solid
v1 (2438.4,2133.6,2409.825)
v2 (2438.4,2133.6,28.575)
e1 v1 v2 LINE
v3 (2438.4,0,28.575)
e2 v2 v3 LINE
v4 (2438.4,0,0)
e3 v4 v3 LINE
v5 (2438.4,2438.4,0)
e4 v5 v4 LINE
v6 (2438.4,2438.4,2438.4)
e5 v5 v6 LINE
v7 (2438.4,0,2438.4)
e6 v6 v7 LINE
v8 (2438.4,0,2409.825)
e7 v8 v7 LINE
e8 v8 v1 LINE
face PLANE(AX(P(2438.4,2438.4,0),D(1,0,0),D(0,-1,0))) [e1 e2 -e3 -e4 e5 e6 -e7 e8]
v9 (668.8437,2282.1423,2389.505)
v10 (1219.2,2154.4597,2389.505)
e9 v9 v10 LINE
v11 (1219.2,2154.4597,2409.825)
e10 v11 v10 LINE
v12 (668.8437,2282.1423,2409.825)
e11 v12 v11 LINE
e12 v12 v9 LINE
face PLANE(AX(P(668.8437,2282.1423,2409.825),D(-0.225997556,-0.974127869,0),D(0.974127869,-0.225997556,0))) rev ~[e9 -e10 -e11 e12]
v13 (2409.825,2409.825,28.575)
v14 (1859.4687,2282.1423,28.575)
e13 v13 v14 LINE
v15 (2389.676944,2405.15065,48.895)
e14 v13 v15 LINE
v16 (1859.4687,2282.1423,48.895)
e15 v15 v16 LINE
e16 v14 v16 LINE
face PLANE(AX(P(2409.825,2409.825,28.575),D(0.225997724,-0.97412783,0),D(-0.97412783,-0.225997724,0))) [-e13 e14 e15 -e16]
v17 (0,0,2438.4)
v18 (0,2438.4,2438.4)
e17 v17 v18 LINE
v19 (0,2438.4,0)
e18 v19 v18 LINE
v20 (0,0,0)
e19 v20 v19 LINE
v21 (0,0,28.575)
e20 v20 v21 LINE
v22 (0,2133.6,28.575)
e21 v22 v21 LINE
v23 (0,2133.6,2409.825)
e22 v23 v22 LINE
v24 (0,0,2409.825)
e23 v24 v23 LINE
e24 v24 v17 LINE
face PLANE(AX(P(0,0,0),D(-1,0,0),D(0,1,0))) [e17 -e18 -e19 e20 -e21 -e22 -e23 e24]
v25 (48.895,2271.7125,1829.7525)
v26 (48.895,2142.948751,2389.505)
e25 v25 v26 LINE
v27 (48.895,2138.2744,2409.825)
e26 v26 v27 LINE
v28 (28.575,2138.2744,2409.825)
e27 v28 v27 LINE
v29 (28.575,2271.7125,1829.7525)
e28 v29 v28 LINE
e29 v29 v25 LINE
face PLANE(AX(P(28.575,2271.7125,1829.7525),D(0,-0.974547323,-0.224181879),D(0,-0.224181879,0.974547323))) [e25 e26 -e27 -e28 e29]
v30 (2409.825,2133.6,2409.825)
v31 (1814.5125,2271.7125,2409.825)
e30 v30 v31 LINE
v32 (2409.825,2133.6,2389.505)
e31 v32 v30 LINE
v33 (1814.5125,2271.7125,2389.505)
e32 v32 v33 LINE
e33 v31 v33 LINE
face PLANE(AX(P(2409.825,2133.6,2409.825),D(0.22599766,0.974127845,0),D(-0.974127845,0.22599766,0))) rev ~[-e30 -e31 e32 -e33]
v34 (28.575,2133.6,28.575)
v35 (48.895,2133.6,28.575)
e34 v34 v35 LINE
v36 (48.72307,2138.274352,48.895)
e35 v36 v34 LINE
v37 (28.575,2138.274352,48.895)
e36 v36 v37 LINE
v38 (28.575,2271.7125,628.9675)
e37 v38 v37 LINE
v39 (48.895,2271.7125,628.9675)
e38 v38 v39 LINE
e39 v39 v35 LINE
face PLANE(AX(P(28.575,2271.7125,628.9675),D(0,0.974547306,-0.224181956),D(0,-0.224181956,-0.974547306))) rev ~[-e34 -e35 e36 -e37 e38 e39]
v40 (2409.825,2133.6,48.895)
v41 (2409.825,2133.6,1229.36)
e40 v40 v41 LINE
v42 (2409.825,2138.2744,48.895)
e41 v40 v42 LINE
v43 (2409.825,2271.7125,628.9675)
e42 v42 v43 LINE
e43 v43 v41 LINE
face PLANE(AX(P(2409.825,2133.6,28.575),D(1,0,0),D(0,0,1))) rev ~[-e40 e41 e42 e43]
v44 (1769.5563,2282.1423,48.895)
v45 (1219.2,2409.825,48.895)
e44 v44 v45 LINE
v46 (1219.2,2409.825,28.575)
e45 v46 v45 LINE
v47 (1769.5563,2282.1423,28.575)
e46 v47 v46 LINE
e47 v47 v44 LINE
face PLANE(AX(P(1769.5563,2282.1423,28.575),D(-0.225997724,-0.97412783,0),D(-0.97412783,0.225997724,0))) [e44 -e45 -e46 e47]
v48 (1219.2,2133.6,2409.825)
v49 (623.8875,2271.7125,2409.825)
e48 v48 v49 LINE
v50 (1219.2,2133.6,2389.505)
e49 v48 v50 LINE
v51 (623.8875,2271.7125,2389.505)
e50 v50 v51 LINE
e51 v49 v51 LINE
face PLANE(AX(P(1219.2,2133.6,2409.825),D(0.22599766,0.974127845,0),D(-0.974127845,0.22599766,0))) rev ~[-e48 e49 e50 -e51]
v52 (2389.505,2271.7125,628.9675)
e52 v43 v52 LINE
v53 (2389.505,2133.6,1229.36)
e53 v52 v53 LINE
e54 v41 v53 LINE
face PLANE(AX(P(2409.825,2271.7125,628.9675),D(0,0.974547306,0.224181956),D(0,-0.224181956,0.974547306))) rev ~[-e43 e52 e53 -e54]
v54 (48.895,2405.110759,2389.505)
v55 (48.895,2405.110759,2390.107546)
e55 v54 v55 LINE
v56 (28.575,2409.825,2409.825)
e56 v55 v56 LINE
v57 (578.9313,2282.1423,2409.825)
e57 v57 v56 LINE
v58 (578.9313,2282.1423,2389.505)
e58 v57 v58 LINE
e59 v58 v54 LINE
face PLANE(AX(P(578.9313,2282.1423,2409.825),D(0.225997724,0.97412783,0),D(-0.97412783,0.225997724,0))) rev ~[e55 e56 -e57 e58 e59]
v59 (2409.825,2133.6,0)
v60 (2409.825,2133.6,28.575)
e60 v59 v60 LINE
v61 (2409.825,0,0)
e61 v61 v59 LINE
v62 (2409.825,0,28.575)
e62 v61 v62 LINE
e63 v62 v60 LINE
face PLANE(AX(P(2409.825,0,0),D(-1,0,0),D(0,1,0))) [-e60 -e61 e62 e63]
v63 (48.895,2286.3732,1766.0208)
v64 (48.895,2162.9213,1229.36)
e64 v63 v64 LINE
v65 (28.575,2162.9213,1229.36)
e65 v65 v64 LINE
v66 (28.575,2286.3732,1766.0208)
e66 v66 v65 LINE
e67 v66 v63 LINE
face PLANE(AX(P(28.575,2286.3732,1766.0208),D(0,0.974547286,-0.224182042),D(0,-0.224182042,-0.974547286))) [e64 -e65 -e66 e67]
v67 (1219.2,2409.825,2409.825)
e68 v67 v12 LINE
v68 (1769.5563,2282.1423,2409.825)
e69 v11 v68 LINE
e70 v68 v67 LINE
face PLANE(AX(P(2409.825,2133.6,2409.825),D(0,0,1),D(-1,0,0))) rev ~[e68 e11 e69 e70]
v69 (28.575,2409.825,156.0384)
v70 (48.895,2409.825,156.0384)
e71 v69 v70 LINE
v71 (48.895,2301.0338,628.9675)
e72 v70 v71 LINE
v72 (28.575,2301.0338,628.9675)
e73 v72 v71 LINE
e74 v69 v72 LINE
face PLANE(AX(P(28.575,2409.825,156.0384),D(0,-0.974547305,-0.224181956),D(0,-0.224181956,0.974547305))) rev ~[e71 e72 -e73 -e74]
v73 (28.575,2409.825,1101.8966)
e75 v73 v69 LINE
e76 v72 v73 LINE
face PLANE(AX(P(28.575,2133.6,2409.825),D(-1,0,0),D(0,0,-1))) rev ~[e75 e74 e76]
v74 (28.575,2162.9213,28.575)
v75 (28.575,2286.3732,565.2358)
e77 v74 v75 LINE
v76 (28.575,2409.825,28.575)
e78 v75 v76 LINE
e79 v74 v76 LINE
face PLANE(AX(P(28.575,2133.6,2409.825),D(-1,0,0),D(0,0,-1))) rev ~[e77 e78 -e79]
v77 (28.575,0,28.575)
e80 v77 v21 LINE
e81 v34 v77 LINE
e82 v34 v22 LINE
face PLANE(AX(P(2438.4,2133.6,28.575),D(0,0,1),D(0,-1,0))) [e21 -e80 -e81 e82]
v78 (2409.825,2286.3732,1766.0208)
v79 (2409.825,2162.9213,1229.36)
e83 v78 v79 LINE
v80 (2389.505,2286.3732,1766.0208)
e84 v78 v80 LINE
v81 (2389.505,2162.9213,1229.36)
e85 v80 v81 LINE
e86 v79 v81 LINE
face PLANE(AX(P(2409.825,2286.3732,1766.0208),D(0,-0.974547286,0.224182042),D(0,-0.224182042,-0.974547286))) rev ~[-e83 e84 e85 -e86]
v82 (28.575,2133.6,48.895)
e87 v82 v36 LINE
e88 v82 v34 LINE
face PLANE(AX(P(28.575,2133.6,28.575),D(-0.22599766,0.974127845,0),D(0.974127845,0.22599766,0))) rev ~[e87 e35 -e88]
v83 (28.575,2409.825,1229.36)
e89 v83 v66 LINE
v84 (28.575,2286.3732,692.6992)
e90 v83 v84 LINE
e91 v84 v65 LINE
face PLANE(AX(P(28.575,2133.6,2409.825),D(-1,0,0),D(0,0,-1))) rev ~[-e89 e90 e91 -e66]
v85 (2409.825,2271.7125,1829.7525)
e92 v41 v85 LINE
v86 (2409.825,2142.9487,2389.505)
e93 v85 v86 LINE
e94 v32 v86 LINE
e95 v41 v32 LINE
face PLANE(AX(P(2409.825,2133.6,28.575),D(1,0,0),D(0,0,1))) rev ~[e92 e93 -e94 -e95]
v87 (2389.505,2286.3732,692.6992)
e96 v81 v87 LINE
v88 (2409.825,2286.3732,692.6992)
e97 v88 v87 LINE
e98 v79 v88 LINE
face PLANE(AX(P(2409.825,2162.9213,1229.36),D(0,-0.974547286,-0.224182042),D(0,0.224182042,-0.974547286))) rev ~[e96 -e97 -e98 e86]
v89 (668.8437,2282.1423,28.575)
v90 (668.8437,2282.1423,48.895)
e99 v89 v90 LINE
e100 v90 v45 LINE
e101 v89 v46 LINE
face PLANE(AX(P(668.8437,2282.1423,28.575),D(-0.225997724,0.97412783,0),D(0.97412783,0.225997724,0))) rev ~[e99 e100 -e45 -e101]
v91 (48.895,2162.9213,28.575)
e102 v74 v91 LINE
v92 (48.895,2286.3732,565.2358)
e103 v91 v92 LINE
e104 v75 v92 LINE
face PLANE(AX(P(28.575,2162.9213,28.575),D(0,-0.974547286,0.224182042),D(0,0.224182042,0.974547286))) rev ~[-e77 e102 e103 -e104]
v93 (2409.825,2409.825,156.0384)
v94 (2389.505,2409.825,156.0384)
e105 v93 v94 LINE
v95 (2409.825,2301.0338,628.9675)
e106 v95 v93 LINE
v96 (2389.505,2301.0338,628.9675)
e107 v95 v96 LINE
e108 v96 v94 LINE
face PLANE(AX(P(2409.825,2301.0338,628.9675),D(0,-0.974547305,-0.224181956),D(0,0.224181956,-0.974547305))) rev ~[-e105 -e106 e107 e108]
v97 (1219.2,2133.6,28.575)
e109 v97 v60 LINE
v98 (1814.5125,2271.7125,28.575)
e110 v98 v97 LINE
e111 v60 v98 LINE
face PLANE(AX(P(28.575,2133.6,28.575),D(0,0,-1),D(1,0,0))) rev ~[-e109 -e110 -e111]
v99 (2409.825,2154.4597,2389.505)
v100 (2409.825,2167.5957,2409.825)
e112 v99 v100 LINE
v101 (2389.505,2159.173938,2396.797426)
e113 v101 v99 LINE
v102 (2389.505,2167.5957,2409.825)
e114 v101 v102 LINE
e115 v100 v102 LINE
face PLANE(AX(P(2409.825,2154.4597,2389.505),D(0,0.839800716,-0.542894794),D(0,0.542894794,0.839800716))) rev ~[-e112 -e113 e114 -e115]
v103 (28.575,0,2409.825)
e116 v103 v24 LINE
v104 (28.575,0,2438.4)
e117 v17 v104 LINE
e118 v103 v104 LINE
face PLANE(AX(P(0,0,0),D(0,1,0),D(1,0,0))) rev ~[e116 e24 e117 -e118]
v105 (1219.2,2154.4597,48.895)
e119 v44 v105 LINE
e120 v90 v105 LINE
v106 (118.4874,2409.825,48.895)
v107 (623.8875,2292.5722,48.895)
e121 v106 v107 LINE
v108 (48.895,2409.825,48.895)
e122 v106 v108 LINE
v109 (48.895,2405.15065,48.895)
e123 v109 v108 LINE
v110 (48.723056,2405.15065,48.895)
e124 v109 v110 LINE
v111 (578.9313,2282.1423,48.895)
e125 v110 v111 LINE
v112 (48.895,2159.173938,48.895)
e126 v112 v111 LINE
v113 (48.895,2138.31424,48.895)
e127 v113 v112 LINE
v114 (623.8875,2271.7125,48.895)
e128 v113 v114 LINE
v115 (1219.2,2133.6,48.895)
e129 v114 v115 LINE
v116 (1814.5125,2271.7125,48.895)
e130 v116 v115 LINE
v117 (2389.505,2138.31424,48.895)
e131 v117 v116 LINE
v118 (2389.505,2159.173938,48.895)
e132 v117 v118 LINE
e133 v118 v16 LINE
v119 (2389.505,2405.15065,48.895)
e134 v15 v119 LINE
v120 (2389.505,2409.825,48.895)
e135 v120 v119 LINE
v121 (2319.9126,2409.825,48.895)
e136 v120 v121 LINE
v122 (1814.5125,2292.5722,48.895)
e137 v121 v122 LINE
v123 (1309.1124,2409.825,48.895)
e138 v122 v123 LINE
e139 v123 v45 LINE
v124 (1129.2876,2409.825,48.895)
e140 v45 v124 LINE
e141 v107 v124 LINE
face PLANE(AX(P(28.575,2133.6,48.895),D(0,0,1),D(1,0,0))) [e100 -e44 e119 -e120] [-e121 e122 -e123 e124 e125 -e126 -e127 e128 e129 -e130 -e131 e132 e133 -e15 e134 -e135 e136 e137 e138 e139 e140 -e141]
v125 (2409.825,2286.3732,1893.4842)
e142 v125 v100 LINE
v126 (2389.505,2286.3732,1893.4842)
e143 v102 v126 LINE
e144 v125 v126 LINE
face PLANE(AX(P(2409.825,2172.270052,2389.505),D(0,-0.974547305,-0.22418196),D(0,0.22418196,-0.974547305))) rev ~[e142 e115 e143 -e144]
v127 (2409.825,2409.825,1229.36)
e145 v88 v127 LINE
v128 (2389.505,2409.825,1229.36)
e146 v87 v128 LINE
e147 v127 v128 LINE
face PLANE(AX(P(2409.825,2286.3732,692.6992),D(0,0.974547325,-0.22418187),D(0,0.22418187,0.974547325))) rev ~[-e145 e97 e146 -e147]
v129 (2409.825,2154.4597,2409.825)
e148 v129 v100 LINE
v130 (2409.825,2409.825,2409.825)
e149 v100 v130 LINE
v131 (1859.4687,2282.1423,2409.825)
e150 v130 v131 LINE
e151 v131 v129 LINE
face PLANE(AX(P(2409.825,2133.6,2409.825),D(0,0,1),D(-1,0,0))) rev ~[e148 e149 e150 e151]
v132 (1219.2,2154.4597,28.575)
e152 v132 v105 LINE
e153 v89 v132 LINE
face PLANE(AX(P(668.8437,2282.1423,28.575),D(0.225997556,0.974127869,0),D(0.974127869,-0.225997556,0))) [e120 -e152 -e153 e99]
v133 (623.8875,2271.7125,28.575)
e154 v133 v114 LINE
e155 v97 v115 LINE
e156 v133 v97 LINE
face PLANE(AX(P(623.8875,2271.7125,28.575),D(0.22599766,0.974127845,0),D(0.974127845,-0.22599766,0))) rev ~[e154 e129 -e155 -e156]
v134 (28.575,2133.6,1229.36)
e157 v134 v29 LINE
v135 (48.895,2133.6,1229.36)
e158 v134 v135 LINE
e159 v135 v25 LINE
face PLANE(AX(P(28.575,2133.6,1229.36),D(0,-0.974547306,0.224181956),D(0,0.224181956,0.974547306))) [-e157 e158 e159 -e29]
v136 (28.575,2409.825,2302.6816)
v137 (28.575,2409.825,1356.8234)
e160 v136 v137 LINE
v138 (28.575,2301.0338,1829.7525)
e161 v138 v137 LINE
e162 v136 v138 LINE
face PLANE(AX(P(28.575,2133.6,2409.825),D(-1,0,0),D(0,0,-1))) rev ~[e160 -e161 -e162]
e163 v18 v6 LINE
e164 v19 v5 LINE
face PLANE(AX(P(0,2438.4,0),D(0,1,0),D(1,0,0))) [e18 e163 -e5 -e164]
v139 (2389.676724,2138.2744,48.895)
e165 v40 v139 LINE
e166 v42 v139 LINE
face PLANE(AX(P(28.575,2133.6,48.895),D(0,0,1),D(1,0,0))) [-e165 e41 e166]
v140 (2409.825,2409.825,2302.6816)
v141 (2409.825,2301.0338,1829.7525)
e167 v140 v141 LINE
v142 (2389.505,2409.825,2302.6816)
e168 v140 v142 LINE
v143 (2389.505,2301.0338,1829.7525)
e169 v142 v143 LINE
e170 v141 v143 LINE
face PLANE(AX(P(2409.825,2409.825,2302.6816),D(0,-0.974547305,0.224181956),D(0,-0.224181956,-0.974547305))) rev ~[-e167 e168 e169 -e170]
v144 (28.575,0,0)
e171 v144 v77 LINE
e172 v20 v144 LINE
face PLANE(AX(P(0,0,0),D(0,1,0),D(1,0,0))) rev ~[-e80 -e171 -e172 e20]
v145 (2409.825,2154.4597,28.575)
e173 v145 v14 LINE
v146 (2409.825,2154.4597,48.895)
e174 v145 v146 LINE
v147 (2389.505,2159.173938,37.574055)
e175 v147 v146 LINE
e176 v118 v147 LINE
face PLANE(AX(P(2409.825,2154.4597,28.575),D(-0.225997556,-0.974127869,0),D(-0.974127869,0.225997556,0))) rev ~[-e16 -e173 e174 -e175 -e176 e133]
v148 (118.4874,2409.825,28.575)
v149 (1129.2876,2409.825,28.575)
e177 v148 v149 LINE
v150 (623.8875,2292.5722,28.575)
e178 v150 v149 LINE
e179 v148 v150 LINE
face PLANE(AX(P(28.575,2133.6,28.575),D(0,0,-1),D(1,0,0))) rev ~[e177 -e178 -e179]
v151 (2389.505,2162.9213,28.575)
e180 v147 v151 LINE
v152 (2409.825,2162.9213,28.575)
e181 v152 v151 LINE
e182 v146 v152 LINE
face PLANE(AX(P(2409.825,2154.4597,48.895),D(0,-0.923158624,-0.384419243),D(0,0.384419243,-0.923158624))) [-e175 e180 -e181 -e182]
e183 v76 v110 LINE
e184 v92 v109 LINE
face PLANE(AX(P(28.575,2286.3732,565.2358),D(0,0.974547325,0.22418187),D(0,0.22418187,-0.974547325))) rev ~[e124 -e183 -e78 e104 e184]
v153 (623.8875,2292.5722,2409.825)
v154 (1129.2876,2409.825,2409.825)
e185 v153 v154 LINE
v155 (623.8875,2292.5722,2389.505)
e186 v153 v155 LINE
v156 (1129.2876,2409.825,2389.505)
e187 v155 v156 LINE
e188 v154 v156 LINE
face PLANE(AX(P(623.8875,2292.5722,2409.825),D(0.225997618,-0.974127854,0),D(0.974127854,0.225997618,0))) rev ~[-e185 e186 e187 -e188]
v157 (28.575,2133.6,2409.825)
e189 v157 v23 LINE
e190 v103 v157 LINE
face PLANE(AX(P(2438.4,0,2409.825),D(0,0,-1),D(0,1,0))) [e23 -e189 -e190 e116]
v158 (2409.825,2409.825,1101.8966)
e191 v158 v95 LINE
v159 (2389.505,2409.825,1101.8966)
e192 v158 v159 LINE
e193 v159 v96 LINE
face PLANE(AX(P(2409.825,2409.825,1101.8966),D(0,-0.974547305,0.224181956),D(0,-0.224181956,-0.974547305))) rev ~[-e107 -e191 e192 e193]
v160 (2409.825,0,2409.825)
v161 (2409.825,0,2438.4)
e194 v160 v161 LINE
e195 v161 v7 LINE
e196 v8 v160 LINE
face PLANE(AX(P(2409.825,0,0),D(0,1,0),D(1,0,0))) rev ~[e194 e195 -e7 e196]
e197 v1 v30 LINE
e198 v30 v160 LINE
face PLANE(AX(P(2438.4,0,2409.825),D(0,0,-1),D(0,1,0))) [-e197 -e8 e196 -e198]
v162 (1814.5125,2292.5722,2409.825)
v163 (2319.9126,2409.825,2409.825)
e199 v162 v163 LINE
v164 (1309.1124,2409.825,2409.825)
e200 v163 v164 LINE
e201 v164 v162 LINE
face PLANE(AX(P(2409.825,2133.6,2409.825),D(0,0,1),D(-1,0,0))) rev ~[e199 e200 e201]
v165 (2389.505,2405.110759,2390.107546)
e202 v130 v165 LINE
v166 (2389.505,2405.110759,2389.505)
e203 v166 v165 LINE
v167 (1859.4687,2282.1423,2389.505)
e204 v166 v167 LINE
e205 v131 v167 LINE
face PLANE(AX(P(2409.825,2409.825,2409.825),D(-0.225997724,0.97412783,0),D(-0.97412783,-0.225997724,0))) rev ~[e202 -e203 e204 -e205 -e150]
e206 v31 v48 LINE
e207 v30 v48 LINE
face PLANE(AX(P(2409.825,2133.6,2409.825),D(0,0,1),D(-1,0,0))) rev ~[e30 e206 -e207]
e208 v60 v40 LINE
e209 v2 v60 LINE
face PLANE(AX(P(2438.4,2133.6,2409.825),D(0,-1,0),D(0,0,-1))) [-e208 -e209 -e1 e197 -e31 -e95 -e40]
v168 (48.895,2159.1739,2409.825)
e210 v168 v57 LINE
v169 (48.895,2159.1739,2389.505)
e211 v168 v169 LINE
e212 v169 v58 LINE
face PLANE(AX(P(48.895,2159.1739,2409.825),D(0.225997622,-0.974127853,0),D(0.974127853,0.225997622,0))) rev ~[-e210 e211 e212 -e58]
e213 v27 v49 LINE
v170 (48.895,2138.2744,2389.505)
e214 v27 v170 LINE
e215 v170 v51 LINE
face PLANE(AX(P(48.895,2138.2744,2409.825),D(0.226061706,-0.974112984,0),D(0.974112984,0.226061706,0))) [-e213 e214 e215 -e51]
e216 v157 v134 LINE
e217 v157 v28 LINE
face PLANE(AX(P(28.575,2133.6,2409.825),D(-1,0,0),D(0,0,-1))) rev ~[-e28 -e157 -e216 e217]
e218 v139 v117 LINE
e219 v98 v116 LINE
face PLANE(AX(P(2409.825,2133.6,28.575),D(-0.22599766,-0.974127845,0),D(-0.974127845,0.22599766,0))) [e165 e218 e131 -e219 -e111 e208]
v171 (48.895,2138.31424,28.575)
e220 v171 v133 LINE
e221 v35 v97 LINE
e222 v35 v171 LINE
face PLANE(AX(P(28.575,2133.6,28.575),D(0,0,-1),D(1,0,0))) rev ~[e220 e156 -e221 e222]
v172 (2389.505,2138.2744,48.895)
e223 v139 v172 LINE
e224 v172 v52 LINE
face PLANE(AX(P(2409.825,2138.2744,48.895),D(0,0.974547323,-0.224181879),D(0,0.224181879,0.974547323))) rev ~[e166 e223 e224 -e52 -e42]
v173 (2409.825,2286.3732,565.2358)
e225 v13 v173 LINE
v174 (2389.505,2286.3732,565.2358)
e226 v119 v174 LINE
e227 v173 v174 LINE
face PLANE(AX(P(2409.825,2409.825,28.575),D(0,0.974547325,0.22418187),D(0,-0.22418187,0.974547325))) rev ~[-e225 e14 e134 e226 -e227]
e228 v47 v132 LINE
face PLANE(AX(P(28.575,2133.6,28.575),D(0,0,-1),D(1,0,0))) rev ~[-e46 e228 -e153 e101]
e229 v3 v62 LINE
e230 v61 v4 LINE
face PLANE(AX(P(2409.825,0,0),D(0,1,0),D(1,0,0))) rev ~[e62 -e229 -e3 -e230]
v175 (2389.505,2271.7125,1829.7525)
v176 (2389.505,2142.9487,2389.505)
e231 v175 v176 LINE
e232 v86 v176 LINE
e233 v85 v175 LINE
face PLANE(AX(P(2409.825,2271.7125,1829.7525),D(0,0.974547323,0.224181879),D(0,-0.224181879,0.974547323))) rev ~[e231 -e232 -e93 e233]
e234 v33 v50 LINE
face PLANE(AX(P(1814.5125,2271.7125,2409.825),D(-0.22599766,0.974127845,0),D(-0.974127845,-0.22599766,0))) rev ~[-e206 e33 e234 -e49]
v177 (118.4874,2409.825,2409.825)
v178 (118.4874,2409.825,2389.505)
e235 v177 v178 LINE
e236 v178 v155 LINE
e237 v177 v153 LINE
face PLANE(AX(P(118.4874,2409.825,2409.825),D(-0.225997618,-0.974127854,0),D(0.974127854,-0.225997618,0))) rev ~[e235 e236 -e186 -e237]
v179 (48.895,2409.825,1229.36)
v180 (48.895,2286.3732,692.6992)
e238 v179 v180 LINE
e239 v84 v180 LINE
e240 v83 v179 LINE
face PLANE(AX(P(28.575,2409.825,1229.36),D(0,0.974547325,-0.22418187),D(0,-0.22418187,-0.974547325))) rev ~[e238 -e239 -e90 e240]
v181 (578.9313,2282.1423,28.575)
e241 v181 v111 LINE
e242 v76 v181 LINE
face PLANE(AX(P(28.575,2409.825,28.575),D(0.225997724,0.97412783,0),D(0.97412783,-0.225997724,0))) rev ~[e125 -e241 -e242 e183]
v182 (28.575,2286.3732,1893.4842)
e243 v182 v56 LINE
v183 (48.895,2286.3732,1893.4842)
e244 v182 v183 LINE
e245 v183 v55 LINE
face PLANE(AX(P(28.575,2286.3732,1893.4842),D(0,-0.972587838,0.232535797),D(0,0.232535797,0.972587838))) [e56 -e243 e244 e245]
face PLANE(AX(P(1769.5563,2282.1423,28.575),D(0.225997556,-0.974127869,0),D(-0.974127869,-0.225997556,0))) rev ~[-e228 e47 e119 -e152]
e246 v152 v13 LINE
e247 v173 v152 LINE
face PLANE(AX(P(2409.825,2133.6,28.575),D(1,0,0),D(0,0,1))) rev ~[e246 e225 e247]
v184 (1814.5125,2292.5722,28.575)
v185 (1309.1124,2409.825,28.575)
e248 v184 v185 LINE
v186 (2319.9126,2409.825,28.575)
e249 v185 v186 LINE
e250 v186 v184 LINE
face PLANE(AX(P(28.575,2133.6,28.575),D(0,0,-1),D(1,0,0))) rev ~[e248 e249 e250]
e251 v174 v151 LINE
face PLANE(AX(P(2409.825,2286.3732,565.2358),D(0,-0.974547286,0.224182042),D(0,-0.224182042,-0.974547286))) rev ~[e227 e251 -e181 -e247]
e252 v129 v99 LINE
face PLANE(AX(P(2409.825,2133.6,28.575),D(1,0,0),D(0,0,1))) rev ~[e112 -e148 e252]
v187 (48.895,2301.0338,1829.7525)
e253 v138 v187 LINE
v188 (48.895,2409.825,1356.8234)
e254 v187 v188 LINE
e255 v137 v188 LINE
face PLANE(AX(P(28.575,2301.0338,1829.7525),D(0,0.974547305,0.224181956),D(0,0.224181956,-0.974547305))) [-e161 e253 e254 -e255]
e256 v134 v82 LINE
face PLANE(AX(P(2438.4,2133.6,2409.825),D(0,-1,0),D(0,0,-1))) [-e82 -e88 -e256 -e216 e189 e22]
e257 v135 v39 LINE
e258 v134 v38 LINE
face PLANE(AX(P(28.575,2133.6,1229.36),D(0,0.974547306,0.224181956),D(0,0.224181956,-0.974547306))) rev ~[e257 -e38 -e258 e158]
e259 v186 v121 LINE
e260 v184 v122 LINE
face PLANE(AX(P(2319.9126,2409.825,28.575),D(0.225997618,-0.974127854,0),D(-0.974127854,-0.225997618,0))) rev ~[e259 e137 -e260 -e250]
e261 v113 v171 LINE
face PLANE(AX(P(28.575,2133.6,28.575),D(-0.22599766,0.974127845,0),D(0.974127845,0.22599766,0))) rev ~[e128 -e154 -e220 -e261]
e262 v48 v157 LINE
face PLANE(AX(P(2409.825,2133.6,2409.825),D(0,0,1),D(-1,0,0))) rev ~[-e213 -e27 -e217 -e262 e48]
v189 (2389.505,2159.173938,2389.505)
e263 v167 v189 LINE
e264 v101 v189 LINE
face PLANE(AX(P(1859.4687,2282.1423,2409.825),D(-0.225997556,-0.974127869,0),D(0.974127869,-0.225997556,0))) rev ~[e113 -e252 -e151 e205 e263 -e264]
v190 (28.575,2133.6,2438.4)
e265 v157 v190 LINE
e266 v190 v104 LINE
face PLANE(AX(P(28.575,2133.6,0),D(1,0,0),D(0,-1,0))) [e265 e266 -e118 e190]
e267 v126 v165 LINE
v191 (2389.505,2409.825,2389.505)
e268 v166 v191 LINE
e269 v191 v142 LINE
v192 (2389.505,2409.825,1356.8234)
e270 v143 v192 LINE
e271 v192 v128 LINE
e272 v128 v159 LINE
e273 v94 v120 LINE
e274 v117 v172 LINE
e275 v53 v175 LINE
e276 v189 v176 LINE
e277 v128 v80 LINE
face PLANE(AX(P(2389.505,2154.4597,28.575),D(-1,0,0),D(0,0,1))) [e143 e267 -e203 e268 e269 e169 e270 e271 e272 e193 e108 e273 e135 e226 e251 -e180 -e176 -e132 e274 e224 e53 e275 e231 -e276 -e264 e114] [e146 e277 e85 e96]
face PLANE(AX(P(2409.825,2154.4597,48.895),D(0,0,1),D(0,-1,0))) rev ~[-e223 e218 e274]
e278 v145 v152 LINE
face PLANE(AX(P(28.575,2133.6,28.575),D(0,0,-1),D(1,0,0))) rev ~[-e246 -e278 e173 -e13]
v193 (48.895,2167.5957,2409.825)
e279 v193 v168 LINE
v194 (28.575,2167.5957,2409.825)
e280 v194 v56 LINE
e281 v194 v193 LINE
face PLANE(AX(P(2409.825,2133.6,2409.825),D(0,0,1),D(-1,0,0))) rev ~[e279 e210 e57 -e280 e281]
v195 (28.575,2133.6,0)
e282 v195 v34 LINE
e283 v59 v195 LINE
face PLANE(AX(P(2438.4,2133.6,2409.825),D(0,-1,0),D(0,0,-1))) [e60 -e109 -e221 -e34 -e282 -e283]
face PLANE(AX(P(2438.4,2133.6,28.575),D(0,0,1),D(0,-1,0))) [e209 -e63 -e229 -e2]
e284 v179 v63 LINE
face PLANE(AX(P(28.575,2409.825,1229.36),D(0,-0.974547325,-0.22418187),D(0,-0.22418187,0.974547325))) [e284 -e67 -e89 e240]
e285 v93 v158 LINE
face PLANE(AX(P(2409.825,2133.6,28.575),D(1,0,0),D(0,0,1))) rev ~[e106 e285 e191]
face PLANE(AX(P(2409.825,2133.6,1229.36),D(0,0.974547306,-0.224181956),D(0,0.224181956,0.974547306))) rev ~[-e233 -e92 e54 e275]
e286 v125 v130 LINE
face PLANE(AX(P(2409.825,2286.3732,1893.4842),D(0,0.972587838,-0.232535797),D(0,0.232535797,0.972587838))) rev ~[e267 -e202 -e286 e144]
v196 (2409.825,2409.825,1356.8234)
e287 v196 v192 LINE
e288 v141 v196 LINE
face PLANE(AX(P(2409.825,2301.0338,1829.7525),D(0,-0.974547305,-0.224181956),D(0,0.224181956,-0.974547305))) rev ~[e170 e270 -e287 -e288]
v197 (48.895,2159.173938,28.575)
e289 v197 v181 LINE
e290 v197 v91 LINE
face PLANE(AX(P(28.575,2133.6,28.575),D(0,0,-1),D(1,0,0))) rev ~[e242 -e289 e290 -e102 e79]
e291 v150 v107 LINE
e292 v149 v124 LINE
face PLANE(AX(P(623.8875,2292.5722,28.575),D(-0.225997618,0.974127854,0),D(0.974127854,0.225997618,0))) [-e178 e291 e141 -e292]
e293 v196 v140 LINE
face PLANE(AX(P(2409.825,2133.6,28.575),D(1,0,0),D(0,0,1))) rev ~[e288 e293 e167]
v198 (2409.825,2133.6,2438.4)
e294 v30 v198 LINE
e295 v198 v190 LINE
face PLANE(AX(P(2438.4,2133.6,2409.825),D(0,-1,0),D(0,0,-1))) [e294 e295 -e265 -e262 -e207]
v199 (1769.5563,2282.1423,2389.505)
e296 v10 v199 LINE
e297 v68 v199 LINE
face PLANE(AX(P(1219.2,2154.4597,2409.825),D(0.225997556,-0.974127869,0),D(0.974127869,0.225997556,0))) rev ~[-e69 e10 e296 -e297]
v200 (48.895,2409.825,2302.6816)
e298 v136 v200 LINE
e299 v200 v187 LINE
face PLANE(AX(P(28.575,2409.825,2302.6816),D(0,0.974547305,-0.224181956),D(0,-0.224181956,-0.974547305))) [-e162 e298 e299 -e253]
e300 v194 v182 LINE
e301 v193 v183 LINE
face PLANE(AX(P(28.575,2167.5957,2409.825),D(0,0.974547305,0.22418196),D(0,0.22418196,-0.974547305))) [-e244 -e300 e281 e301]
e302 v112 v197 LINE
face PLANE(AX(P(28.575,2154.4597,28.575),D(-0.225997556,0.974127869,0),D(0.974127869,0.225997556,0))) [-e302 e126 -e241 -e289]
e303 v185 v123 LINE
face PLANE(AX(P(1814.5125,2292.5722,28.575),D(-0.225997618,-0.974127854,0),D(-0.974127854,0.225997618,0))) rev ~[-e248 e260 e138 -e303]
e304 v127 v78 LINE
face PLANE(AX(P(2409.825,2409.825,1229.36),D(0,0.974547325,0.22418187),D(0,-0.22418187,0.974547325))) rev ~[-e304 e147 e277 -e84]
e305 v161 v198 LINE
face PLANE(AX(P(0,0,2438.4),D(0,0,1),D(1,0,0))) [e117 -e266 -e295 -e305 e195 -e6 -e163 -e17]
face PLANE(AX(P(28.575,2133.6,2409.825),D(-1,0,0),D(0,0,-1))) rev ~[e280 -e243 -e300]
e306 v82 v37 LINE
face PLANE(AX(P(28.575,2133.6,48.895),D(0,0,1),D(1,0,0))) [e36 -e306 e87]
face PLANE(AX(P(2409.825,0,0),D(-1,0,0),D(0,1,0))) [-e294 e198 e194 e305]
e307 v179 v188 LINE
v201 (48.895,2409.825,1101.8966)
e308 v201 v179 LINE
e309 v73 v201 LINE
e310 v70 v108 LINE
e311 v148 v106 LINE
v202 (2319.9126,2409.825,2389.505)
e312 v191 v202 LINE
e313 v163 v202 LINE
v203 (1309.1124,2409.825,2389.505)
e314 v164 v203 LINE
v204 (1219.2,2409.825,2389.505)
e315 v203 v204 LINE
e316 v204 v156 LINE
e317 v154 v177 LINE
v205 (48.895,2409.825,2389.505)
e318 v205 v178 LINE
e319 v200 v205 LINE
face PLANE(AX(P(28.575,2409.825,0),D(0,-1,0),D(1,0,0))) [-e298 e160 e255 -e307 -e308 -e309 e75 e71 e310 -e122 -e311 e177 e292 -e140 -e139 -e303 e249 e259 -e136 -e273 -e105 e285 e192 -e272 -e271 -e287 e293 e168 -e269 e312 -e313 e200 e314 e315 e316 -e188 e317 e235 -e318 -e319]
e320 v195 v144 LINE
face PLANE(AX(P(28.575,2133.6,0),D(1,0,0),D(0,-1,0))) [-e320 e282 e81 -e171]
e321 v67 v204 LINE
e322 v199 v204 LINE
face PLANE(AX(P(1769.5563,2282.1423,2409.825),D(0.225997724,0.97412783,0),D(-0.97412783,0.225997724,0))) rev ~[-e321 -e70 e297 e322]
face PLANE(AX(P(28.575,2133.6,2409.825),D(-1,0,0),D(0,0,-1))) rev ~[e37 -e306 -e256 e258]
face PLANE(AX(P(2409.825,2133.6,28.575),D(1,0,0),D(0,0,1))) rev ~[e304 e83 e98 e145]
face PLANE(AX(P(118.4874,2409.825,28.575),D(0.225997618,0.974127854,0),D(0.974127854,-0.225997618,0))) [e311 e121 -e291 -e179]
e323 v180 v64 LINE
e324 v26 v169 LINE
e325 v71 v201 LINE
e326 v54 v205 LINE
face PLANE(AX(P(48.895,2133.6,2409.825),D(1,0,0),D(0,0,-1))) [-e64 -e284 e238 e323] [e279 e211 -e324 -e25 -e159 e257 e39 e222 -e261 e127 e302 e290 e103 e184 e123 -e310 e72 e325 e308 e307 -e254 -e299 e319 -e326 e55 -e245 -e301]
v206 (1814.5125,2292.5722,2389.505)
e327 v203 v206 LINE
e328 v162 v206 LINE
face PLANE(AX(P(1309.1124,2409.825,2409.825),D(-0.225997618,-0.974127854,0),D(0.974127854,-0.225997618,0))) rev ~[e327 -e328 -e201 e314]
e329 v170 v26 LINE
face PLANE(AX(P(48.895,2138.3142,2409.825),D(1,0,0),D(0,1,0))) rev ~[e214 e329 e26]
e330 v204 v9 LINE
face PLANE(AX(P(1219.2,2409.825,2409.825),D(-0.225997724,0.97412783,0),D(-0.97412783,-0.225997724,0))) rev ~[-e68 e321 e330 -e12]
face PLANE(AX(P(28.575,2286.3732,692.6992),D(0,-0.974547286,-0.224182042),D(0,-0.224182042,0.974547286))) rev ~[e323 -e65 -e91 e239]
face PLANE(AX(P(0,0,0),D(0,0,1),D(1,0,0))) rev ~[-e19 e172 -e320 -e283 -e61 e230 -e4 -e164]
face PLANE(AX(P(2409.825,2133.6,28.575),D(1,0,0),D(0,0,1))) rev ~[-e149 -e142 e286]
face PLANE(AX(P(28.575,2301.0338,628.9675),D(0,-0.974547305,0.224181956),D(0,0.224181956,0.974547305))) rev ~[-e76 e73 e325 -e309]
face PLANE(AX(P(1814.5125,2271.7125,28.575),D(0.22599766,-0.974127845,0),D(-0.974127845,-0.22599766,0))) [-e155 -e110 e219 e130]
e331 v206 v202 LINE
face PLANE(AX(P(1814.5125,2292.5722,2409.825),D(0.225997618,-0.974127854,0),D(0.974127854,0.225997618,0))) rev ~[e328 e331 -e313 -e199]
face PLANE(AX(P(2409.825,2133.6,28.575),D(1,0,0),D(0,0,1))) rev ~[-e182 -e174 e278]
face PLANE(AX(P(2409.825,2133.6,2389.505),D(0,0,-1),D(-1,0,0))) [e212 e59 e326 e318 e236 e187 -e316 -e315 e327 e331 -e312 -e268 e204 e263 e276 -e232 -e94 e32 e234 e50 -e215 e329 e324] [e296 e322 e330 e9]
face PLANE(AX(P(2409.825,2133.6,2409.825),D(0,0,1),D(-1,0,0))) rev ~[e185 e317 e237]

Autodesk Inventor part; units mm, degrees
ref_plane "YZ Plane" through (0, 0, 0) normal (1, 0, 0) x (0, 1, 0)
ref_plane "XZ Plane" through (0, 0, 0) normal (0, 1, 0) x (-1, 0, 0)
ref_plane "XY Plane" through (0, 0, 0) normal (0, 0, 1) x (1, 0, 0)
sketch "Sketch1" plane through (0, 0, 0) normal (0, 0, 1) x (1, 0, 0)
  line L0 (0, 0) -> (0, 2438.4)
  line L1 (0, 2438.4) -> (2438.4, 2438.4)
  line L2 (2409.825, 2133.6) -> (28.575, 2133.6)
  line L3 (2438.4, 2438.4) -> (2438.4, 0)
  line L4 (2409.825, 0) -> (2409.825, 2133.6)
  line L5 (28.575, 2133.6) -> (28.575, 0)
  line L6 (0, 0) -> (28.575, 0)
  line L7 (2409.825, 0) -> (2438.4, 0)
  dimension "d0" = 0
  dimension "d1" = 2438.4
  dimension "d3" = 2438.4
  dimension "d4" = 304.8
  dimension "d5" = 28.575
  dimension "d7" = 28.575
extrude "Extrusion1" add sketch "Sketch1" along normal blind 2438.4
sketch "Sketch2" plane through (2438.4, 0, 0) normal (1, 0, 0) x (0, 0, -1)
  line L0 (0, 2438.4) -> (-2438.4, 2438.4) projected
  line L1 (-2438.4, 0) -> (-2438.4, 2438.4) projected
  line L2 (0, 2438.4) -> (0, 0) projected
  line L3 (-2409.825, 0) -> (-2409.825, 2133.6)
  line L4 (-28.575, 2133.6) -> (-28.575, 0)
  line L5 (-2409.825, 2133.6) -> (-28.575, 2133.6)
  line L6 (0, 0) -> (-2438.4, 0) projected
  line L7 (-2409.825, 0) -> (-28.575, 0)
  dimension "d10" = 28.575
  dimension "d11" = 28.575
  dimension "d12" = 2133.6
  dimension "d13" = 2133.6
  dimension "d14" = 304.8
extrude "Extrusion2" cut sketch "Sketch2" against normal blind 2438.4 contours L6 L3 L5 L4
sketch "Sketch3" plane through (28.575, 2133.6, 0) normal (0, -1, 0) x (1, 0, 0)
  line L0 (2381.25, 2409.825) -> (2381.25, 2438.4) projected
  line L1 (0, 2409.825) -> (0, 2438.4) projected
  line L2 (2381.25, 2409.825) -> (0, 2409.825)
  line L3 (0, 28.575) -> (-28.575, 28.575) projected
  line L4 (0, 2409.825) -> (0, 28.575)
  line L5 (0, 28.575) -> (2381.25, 28.575)
  line L6 (2381.25, 28.575) -> (2381.25, 2409.825)
  point P0 (-28.575, 0)
extrude "Extrusion3" cut sketch "Sketch3" against normal blind 276.225
sketch "Sketch4" plane through (28.575, 2133.6, 28.575) normal (0, 0, 1) x (1, 0, 0)
  line L0 (2381.25, 0) -> (2381.25, 276.225) projected
  line L1 (2381.25, 276.225) -> (0, 276.225) projected
  line L2 (0, 0) -> (0, 276.225) projected
  line L3 (-28.575, 304.8) -> (2409.825, 304.8) projected
  line L4 (0, 276.225) -> (2381.25, 276.225) projected
  line L5 (1190.625, 276.225) -> (1190.625, 0)
  line L6 (0, 276.225) -> (550.3563, 148.5423)
  line L7 (595.3125, 138.1125) -> (1190.625, 0)
  line L8 (0, 20.8597) -> (550.3563, 148.5423)
  line L9 (595.3125, 158.9722) -> (1100.7126, 276.225)
  line L10 (89.9124, 276.225) -> (595.3125, 158.9722)
  line L11 (640.2687, 148.5423) -> (1190.625, 20.8597)
  line L12 (0, 0) -> (595.3125, 138.1125)
  line L13 (640.2687, 148.5423) -> (1190.625, 276.225)
  line L14 (2381.25, 0) -> (1785.9375, 138.1125)
  line L15 (1740.9813, 148.5423) -> (1190.625, 276.225)
  line L16 (2291.3376, 276.225) -> (1785.9375, 158.9722)
  line L17 (1740.9813, 148.5423) -> (1190.625, 20.8597)
  line L18 (2381.25, 20.8597) -> (1830.8937, 148.5423)
  line L19 (1785.9375, 158.9722) -> (1280.5374, 276.225)
  line L20 (2381.25, 276.225) -> (1830.8937, 148.5423)
  line L21 (1785.9375, 138.1125) -> (1190.625, 0)
  point P0 (-28.575, -2133.6)
  point P1 (2385.8423, 19.7943)
  point P2 (1195.2173, 296.0193)
  point P3 (2376.6577, 296.0193)
  point P4 (-4.5923, 19.7943)
  point P5 (1186.0327, 296.0193)
  point P6 (4.5923, 296.0193)
  dimension "d26" = 606.4093
  dimension "d29" = 518.8231
  dimension "d31" = 564.9734
  dimension "d34" = 611.1236
  dimension "d35" = 611.1236
  dimension "d36" = 569.6876
  dimension "d37" = 564.9734
  dimension "d38" = 564.9734
  dimension "d39" = 89.9124
  dimension "d40" = 1010.8001
  dimension "d41" = 1010.8001
  dimension "d42" = 564.9734
  dimension "d43" = 564.9734
extrude "Extrusion4" add sketch "Sketch4" along normal blind 20.32 contours L14 L21 L5 L17 L15 L1 L19 L16 L20 L18 L0 | L7 L12 L2 L8 L6 L1 L10 L9 L13 L11 L5
sketch "Sketch6" plane through (28.575, 2133.6, 2409.825) normal (1, 0, 0) x (0, 0, -1)
  line L0 (2360.93, 276.225) -> (0, 276.225) projected
  line L1 (1180.465, 276.225) -> (1180.465, 0)
  line L2 (2381.25, 276.225) -> (2360.93, 276.225) projected
  line L3 (2381.25, 276.225) -> (2381.25, 0)
  line L4 (1180.465, 276.225) -> (1717.1258, 152.7732)
  line L5 (1780.8575, 138.1125) -> (2381.25, 0)
  line L6 (2253.7866, 276.225) -> (1780.8575, 167.4338)
  line L7 (1717.1258, 152.7732) -> (1180.465, 29.3213)
  line L8 (2381.25, 29.3213) -> (1844.5892, 152.7732)
  line L9 (1780.8575, 167.4338) -> (1307.9284, 276.225)
  line L10 (1180.465, 0) -> (1780.8575, 138.1125)
  line L11 (1844.5892, 152.7732) -> (2381.25, 276.225)
  line L12 (-20.32, 29.3213) -> (-20.32, 0)
  line L13 (1180.465, 276.225) -> (643.8042, 152.7732)
  line L14 (580.0725, 138.1125) -> (0, 4.6744)
  line L15 (107.1434, 276.225) -> (580.0725, 167.4338)
  line L16 (643.8042, 152.7732) -> (1180.465, 29.3213)
  line L17 (0, 33.9957) -> (516.3408, 152.7732)
  line L18 (580.0725, 167.4338) -> (1053.0016, 276.225)
  line L19 (1180.465, 0) -> (580.0725, 138.1125)
  line L20 (516.3408, 152.7732) -> (0, 276.225)
  line L21 (0, 33.9957) -> (0, 4.6744)
  line L22 (0, 0) -> (0, 276.225) projected
  line L23 (2253.7866, 276.225) -> (2381.25, 276.225)
  line L24 (107.1434, 276.225) -> (0, 276.225)
  line L25 (1053.0016, 276.225) -> (1180.465, 276.225)
  line L26 (2253.7866, 276.225) -> (2381.25, 276.225)
  line L27 (2409.825, 304.8) -> (-28.575, 304.8) projected
  line L28 (2381.25, 0) -> (2360.93, 0) projected
  line L29 (2381.25, 0) -> (2381.25, 29.3213)
  line L30 (2381.25, 20.8597) -> (2381.25, 148.5423) projected
  point P0 (2409.825, -2133.6)
  point P1 (-20.32, 276.225)
  dimension "d68" = 28.575
  dimension "d69" = 28.575
  dimension "d70" = 28.575
  dimension "d71" = 28.575
  dimension "d73" = 616.0732
  dimension "d75" = 485.2808
  dimension "d76" = 485.2808
  dimension "d77" = 25.91
  dimension "d79" = 276.225
  dimension "d80" = 167.045
  dimension "d81" = 167.045
  dimension "d82" = 20.32
  dimension "d83" = 276.225
extrude "Extrusion5" add sketch "Sketch6" along normal blind 20.32 contours L2 L11 L8 L3 L5 L10 L1 L7 L4 L0 L9 L6 | L13 L16 L1 L19 L14 L21 L17 L20 L0 L15 L18
sketch "Sketch7" plane through (2409.825, 2133.6, 2409.825) normal (0, 0, -1) x (-1, 0, 0)
  line L0 (0, 276.225) -> (550.3563, 148.5423) projected
  line L1 (550.3563, 148.5423) -> (0, 20.8597) projected
  line L2 (595.3125, 138.1125) -> (1190.625, 0) projected
  line L3 (1100.7126, 276.225) -> (595.3125, 158.9722) projected
  line L4 (640.2687, 148.5423) -> (1190.625, 276.225) projected
  line L5 (1190.625, 20.8597) -> (640.2687, 148.5423) projected
  line L6 (0, 0) -> (595.3125, 138.1125) projected
  line L7 (595.3125, 158.9722) -> (89.9124, 276.225) projected
  line L8 (2409.825, 304.8) -> (-28.575, 304.8) projected
  line L9 (1190.625, 0) -> (1785.9375, 138.1125) projected
  line L10 (1190.625, 276.225) -> (1740.9813, 148.5423) projected
  line L11 (1785.9375, 158.9722) -> (1280.5374, 276.225) projected
  line L12 (1740.9813, 148.5423) -> (1190.625, 20.8597) projected
  line L13 (1785.9375, 138.1125) -> (2360.93, 4.7142) projected
  line L14 (2360.93, 25.5739) -> (1830.8937, 148.5423) projected
  line L15 (2291.3376, 276.225) -> (1785.9375, 158.9722) projected
  line L16 (2381.25, 276.225) -> (2360.93, 276.225) projected
  line L17 (1830.8937, 148.5423) -> (2381.25, 276.225)
  line L18 (0, 276.225) -> (89.9124, 276.225)
  line L19 (0, 0) -> (0, 20.8597)
  line L20 (2291.3376, 276.225) -> (2381.25, 276.225)
  line L21 (1100.7126, 276.225) -> (1280.5374, 276.225)
  line L22 (0, 0) -> (0, 20.8597)
  line L23 (595.3125, 138.1125) -> (0, 0)
  line L24 (0, 20.8597) -> (550.3563, 148.5423)
  line L25 (0, 276.225) -> (550.3563, 148.5423)
  line L26 (595.3125, 158.9722) -> (89.9124, 276.225)
  line L27 (595.3125, 158.9722) -> (1100.7126, 276.225)
  line L28 (1190.625, 276.225) -> (640.2687, 148.5423)
  line L29 (640.2687, 148.5423) -> (1190.625, 20.8597)
  line L30 (1190.625, 0) -> (595.3125, 138.1125)
  line L31 (1190.625, 0) -> (1785.9375, 138.1125)
  line L32 (1190.625, 20.8597) -> (1740.9813, 148.5423)
  line L33 (1190.625, 276.225) -> (1740.9813, 148.5423)
  line L34 (1785.9375, 158.9722) -> (1280.5374, 276.225)
  line L35 (1785.9375, 158.9722) -> (2291.3376, 276.225)
  line L36 (1830.8937, 148.5423) -> (2360.93, 25.5739)
  line L37 (2360.93, 4.6744) -> (2360.93, 25.5739)
  line L38 (2360.93, 4.6744) -> (1785.9375, 138.1125)
  point P0 (2361.1019, 271.5506)
  point P1 (2381.25, 0)
  dimension "d88" = 13.062
  dimension "d89" = 166.6875
extrude "Extrusion6" add sketch "Sketch7" along normal blind 20.32
sketch "Sketch8" plane through (2409.825, 2154.4597, 28.575) normal (-1, 0, 0) x (0, 0, 1)
  line L0 (20.32, -16.1853) -> (600.3925, 117.2528) projected
  line L1 (536.6608, 131.9135) -> (0, 8.4616) projected
  line L2 (0, 255.3653) -> (536.6608, 131.9135) projected
  line L3 (600.3925, 146.5741) -> (127.4634, 255.3653) projected
  line L4 (1073.3216, 255.3653) -> (600.3925, 146.5741) projected
  line L5 (1200.785, 8.4616) -> (664.1242, 131.9135) projected
  line L6 (664.1242, 131.9135) -> (1200.785, 255.3653) projected
  line L7 (600.3925, 117.2528) -> (1200.785, -20.8597) projected
  line L8 (1737.4458, 131.9135) -> (1200.785, 8.4616) projected
  line L9 (1200.785, -20.8597) -> (1801.1775, 117.2528) projected
  line L10 (1200.785, 255.3653) -> (1737.4458, 131.9135) projected
  line L11 (1801.1775, 146.5741) -> (1328.2484, 255.3653) projected
  line L12 (1864.9092, 131.9135) -> (2381.25, 255.3653) projected
  line L13 (2381.25, -2154.4597) -> (2409.825, -2154.4597) projected
  line L14 (-28.575, 283.9403) -> (2409.825, 283.9403) projected
  line L15 (-28.575, -2154.4597) -> (0, -2154.4597) projected
  line L16 (2274.1066, 255.3653) -> (1801.1775, 146.5741) projected
  line L17 (2381.25, 13.136) -> (1864.9092, 131.9135) projected
  line L18 (1801.1775, 117.2528) -> (2381.25, -16.1853) projected
  line L19 (2360.93, 255.3653) -> (20.32, 255.3653) projected
  line L20 (0, 0) -> (0, 255.3653) projected
  line L21 (0, 0) -> (20.32, 0) projected
  line L22 (20.32, 0) -> (20.32, -20.8597) projected
  line L23 (2360.93, -20.8597) -> (2360.93, 0) projected
  line L24 (2360.93, 0) -> (2381.25, 0) projected
  line L25 (2381.25, 0) -> (2381.25, 255.3653) projected
  line L26 (2381.25, 255.3653) -> (2360.93, 255.3653) projected
  line L27 (0, 255.3653) -> (536.6608, 131.9135)
  line L28 (536.6608, 131.9135) -> (0, 8.4616)
  line L29 (127.4634, 255.3653) -> (600.3925, 146.5741)
  line L30 (20.32, -16.1853) -> (600.3925, 117.2528)
  line L31 (600.3925, 117.2528) -> (1200.785, -20.8597)
  line L32 (1200.785, 8.4616) -> (664.1242, 131.9135)
  line L33 (664.1242, 131.9135) -> (1200.785, 255.3653)
  line L34 (600.3925, 146.5741) -> (1073.3216, 255.3653)
  line L35 (1200.785, -20.8597) -> (1801.1775, 117.2528)
  line L36 (1737.4458, 131.9135) -> (1200.785, 8.4616)
  line L37 (1200.785, 255.3653) -> (1737.4458, 131.9135)
  line L38 (1328.2484, 255.3653) -> (1801.1775, 146.5741)
  line L39 (1801.1775, 117.2528) -> (2360.93, -11.511)
  line L40 (1864.9092, 131.9135) -> (2381.25, 13.136)
  line L41 (1864.9092, 131.9135) -> (2381.25, 255.3653)
  line L42 (1801.1775, 146.5741) -> (2274.1066, 255.3653)
  line L43 (2274.1066, 255.3653) -> (2381.25, 255.3653)
  line L44 (2360.93, -20.8597) -> (20.32, -20.8597) projected
  line L45 (2360.93, -11.511) -> (2360.93, 0)
  line L46 (2360.93, 127.6827) -> (2360.93, 0) projected
  line L47 (2360.93, 0) -> (2381.25, 13.136)
  line L48 (20.32, -16.1853) -> (20.32, 0)
  line L49 (20.32, 0) -> (0, 8.4616)
  line L50 (20.32, 255.3653) -> (0, 255.3653) projected
  line L51 (0, 255.3653) -> (127.4634, 255.3653)
extrude "Extrusion7" add sketch "Sketch8" along normal blind 20.32 contours L22 L49 L1 L2 L50 L19 L3 L4 L11 L16 L26 L12 L17 L46 L23 L18 L9 L7 L0 | L46 L17 L47
properties part number "Pit"
